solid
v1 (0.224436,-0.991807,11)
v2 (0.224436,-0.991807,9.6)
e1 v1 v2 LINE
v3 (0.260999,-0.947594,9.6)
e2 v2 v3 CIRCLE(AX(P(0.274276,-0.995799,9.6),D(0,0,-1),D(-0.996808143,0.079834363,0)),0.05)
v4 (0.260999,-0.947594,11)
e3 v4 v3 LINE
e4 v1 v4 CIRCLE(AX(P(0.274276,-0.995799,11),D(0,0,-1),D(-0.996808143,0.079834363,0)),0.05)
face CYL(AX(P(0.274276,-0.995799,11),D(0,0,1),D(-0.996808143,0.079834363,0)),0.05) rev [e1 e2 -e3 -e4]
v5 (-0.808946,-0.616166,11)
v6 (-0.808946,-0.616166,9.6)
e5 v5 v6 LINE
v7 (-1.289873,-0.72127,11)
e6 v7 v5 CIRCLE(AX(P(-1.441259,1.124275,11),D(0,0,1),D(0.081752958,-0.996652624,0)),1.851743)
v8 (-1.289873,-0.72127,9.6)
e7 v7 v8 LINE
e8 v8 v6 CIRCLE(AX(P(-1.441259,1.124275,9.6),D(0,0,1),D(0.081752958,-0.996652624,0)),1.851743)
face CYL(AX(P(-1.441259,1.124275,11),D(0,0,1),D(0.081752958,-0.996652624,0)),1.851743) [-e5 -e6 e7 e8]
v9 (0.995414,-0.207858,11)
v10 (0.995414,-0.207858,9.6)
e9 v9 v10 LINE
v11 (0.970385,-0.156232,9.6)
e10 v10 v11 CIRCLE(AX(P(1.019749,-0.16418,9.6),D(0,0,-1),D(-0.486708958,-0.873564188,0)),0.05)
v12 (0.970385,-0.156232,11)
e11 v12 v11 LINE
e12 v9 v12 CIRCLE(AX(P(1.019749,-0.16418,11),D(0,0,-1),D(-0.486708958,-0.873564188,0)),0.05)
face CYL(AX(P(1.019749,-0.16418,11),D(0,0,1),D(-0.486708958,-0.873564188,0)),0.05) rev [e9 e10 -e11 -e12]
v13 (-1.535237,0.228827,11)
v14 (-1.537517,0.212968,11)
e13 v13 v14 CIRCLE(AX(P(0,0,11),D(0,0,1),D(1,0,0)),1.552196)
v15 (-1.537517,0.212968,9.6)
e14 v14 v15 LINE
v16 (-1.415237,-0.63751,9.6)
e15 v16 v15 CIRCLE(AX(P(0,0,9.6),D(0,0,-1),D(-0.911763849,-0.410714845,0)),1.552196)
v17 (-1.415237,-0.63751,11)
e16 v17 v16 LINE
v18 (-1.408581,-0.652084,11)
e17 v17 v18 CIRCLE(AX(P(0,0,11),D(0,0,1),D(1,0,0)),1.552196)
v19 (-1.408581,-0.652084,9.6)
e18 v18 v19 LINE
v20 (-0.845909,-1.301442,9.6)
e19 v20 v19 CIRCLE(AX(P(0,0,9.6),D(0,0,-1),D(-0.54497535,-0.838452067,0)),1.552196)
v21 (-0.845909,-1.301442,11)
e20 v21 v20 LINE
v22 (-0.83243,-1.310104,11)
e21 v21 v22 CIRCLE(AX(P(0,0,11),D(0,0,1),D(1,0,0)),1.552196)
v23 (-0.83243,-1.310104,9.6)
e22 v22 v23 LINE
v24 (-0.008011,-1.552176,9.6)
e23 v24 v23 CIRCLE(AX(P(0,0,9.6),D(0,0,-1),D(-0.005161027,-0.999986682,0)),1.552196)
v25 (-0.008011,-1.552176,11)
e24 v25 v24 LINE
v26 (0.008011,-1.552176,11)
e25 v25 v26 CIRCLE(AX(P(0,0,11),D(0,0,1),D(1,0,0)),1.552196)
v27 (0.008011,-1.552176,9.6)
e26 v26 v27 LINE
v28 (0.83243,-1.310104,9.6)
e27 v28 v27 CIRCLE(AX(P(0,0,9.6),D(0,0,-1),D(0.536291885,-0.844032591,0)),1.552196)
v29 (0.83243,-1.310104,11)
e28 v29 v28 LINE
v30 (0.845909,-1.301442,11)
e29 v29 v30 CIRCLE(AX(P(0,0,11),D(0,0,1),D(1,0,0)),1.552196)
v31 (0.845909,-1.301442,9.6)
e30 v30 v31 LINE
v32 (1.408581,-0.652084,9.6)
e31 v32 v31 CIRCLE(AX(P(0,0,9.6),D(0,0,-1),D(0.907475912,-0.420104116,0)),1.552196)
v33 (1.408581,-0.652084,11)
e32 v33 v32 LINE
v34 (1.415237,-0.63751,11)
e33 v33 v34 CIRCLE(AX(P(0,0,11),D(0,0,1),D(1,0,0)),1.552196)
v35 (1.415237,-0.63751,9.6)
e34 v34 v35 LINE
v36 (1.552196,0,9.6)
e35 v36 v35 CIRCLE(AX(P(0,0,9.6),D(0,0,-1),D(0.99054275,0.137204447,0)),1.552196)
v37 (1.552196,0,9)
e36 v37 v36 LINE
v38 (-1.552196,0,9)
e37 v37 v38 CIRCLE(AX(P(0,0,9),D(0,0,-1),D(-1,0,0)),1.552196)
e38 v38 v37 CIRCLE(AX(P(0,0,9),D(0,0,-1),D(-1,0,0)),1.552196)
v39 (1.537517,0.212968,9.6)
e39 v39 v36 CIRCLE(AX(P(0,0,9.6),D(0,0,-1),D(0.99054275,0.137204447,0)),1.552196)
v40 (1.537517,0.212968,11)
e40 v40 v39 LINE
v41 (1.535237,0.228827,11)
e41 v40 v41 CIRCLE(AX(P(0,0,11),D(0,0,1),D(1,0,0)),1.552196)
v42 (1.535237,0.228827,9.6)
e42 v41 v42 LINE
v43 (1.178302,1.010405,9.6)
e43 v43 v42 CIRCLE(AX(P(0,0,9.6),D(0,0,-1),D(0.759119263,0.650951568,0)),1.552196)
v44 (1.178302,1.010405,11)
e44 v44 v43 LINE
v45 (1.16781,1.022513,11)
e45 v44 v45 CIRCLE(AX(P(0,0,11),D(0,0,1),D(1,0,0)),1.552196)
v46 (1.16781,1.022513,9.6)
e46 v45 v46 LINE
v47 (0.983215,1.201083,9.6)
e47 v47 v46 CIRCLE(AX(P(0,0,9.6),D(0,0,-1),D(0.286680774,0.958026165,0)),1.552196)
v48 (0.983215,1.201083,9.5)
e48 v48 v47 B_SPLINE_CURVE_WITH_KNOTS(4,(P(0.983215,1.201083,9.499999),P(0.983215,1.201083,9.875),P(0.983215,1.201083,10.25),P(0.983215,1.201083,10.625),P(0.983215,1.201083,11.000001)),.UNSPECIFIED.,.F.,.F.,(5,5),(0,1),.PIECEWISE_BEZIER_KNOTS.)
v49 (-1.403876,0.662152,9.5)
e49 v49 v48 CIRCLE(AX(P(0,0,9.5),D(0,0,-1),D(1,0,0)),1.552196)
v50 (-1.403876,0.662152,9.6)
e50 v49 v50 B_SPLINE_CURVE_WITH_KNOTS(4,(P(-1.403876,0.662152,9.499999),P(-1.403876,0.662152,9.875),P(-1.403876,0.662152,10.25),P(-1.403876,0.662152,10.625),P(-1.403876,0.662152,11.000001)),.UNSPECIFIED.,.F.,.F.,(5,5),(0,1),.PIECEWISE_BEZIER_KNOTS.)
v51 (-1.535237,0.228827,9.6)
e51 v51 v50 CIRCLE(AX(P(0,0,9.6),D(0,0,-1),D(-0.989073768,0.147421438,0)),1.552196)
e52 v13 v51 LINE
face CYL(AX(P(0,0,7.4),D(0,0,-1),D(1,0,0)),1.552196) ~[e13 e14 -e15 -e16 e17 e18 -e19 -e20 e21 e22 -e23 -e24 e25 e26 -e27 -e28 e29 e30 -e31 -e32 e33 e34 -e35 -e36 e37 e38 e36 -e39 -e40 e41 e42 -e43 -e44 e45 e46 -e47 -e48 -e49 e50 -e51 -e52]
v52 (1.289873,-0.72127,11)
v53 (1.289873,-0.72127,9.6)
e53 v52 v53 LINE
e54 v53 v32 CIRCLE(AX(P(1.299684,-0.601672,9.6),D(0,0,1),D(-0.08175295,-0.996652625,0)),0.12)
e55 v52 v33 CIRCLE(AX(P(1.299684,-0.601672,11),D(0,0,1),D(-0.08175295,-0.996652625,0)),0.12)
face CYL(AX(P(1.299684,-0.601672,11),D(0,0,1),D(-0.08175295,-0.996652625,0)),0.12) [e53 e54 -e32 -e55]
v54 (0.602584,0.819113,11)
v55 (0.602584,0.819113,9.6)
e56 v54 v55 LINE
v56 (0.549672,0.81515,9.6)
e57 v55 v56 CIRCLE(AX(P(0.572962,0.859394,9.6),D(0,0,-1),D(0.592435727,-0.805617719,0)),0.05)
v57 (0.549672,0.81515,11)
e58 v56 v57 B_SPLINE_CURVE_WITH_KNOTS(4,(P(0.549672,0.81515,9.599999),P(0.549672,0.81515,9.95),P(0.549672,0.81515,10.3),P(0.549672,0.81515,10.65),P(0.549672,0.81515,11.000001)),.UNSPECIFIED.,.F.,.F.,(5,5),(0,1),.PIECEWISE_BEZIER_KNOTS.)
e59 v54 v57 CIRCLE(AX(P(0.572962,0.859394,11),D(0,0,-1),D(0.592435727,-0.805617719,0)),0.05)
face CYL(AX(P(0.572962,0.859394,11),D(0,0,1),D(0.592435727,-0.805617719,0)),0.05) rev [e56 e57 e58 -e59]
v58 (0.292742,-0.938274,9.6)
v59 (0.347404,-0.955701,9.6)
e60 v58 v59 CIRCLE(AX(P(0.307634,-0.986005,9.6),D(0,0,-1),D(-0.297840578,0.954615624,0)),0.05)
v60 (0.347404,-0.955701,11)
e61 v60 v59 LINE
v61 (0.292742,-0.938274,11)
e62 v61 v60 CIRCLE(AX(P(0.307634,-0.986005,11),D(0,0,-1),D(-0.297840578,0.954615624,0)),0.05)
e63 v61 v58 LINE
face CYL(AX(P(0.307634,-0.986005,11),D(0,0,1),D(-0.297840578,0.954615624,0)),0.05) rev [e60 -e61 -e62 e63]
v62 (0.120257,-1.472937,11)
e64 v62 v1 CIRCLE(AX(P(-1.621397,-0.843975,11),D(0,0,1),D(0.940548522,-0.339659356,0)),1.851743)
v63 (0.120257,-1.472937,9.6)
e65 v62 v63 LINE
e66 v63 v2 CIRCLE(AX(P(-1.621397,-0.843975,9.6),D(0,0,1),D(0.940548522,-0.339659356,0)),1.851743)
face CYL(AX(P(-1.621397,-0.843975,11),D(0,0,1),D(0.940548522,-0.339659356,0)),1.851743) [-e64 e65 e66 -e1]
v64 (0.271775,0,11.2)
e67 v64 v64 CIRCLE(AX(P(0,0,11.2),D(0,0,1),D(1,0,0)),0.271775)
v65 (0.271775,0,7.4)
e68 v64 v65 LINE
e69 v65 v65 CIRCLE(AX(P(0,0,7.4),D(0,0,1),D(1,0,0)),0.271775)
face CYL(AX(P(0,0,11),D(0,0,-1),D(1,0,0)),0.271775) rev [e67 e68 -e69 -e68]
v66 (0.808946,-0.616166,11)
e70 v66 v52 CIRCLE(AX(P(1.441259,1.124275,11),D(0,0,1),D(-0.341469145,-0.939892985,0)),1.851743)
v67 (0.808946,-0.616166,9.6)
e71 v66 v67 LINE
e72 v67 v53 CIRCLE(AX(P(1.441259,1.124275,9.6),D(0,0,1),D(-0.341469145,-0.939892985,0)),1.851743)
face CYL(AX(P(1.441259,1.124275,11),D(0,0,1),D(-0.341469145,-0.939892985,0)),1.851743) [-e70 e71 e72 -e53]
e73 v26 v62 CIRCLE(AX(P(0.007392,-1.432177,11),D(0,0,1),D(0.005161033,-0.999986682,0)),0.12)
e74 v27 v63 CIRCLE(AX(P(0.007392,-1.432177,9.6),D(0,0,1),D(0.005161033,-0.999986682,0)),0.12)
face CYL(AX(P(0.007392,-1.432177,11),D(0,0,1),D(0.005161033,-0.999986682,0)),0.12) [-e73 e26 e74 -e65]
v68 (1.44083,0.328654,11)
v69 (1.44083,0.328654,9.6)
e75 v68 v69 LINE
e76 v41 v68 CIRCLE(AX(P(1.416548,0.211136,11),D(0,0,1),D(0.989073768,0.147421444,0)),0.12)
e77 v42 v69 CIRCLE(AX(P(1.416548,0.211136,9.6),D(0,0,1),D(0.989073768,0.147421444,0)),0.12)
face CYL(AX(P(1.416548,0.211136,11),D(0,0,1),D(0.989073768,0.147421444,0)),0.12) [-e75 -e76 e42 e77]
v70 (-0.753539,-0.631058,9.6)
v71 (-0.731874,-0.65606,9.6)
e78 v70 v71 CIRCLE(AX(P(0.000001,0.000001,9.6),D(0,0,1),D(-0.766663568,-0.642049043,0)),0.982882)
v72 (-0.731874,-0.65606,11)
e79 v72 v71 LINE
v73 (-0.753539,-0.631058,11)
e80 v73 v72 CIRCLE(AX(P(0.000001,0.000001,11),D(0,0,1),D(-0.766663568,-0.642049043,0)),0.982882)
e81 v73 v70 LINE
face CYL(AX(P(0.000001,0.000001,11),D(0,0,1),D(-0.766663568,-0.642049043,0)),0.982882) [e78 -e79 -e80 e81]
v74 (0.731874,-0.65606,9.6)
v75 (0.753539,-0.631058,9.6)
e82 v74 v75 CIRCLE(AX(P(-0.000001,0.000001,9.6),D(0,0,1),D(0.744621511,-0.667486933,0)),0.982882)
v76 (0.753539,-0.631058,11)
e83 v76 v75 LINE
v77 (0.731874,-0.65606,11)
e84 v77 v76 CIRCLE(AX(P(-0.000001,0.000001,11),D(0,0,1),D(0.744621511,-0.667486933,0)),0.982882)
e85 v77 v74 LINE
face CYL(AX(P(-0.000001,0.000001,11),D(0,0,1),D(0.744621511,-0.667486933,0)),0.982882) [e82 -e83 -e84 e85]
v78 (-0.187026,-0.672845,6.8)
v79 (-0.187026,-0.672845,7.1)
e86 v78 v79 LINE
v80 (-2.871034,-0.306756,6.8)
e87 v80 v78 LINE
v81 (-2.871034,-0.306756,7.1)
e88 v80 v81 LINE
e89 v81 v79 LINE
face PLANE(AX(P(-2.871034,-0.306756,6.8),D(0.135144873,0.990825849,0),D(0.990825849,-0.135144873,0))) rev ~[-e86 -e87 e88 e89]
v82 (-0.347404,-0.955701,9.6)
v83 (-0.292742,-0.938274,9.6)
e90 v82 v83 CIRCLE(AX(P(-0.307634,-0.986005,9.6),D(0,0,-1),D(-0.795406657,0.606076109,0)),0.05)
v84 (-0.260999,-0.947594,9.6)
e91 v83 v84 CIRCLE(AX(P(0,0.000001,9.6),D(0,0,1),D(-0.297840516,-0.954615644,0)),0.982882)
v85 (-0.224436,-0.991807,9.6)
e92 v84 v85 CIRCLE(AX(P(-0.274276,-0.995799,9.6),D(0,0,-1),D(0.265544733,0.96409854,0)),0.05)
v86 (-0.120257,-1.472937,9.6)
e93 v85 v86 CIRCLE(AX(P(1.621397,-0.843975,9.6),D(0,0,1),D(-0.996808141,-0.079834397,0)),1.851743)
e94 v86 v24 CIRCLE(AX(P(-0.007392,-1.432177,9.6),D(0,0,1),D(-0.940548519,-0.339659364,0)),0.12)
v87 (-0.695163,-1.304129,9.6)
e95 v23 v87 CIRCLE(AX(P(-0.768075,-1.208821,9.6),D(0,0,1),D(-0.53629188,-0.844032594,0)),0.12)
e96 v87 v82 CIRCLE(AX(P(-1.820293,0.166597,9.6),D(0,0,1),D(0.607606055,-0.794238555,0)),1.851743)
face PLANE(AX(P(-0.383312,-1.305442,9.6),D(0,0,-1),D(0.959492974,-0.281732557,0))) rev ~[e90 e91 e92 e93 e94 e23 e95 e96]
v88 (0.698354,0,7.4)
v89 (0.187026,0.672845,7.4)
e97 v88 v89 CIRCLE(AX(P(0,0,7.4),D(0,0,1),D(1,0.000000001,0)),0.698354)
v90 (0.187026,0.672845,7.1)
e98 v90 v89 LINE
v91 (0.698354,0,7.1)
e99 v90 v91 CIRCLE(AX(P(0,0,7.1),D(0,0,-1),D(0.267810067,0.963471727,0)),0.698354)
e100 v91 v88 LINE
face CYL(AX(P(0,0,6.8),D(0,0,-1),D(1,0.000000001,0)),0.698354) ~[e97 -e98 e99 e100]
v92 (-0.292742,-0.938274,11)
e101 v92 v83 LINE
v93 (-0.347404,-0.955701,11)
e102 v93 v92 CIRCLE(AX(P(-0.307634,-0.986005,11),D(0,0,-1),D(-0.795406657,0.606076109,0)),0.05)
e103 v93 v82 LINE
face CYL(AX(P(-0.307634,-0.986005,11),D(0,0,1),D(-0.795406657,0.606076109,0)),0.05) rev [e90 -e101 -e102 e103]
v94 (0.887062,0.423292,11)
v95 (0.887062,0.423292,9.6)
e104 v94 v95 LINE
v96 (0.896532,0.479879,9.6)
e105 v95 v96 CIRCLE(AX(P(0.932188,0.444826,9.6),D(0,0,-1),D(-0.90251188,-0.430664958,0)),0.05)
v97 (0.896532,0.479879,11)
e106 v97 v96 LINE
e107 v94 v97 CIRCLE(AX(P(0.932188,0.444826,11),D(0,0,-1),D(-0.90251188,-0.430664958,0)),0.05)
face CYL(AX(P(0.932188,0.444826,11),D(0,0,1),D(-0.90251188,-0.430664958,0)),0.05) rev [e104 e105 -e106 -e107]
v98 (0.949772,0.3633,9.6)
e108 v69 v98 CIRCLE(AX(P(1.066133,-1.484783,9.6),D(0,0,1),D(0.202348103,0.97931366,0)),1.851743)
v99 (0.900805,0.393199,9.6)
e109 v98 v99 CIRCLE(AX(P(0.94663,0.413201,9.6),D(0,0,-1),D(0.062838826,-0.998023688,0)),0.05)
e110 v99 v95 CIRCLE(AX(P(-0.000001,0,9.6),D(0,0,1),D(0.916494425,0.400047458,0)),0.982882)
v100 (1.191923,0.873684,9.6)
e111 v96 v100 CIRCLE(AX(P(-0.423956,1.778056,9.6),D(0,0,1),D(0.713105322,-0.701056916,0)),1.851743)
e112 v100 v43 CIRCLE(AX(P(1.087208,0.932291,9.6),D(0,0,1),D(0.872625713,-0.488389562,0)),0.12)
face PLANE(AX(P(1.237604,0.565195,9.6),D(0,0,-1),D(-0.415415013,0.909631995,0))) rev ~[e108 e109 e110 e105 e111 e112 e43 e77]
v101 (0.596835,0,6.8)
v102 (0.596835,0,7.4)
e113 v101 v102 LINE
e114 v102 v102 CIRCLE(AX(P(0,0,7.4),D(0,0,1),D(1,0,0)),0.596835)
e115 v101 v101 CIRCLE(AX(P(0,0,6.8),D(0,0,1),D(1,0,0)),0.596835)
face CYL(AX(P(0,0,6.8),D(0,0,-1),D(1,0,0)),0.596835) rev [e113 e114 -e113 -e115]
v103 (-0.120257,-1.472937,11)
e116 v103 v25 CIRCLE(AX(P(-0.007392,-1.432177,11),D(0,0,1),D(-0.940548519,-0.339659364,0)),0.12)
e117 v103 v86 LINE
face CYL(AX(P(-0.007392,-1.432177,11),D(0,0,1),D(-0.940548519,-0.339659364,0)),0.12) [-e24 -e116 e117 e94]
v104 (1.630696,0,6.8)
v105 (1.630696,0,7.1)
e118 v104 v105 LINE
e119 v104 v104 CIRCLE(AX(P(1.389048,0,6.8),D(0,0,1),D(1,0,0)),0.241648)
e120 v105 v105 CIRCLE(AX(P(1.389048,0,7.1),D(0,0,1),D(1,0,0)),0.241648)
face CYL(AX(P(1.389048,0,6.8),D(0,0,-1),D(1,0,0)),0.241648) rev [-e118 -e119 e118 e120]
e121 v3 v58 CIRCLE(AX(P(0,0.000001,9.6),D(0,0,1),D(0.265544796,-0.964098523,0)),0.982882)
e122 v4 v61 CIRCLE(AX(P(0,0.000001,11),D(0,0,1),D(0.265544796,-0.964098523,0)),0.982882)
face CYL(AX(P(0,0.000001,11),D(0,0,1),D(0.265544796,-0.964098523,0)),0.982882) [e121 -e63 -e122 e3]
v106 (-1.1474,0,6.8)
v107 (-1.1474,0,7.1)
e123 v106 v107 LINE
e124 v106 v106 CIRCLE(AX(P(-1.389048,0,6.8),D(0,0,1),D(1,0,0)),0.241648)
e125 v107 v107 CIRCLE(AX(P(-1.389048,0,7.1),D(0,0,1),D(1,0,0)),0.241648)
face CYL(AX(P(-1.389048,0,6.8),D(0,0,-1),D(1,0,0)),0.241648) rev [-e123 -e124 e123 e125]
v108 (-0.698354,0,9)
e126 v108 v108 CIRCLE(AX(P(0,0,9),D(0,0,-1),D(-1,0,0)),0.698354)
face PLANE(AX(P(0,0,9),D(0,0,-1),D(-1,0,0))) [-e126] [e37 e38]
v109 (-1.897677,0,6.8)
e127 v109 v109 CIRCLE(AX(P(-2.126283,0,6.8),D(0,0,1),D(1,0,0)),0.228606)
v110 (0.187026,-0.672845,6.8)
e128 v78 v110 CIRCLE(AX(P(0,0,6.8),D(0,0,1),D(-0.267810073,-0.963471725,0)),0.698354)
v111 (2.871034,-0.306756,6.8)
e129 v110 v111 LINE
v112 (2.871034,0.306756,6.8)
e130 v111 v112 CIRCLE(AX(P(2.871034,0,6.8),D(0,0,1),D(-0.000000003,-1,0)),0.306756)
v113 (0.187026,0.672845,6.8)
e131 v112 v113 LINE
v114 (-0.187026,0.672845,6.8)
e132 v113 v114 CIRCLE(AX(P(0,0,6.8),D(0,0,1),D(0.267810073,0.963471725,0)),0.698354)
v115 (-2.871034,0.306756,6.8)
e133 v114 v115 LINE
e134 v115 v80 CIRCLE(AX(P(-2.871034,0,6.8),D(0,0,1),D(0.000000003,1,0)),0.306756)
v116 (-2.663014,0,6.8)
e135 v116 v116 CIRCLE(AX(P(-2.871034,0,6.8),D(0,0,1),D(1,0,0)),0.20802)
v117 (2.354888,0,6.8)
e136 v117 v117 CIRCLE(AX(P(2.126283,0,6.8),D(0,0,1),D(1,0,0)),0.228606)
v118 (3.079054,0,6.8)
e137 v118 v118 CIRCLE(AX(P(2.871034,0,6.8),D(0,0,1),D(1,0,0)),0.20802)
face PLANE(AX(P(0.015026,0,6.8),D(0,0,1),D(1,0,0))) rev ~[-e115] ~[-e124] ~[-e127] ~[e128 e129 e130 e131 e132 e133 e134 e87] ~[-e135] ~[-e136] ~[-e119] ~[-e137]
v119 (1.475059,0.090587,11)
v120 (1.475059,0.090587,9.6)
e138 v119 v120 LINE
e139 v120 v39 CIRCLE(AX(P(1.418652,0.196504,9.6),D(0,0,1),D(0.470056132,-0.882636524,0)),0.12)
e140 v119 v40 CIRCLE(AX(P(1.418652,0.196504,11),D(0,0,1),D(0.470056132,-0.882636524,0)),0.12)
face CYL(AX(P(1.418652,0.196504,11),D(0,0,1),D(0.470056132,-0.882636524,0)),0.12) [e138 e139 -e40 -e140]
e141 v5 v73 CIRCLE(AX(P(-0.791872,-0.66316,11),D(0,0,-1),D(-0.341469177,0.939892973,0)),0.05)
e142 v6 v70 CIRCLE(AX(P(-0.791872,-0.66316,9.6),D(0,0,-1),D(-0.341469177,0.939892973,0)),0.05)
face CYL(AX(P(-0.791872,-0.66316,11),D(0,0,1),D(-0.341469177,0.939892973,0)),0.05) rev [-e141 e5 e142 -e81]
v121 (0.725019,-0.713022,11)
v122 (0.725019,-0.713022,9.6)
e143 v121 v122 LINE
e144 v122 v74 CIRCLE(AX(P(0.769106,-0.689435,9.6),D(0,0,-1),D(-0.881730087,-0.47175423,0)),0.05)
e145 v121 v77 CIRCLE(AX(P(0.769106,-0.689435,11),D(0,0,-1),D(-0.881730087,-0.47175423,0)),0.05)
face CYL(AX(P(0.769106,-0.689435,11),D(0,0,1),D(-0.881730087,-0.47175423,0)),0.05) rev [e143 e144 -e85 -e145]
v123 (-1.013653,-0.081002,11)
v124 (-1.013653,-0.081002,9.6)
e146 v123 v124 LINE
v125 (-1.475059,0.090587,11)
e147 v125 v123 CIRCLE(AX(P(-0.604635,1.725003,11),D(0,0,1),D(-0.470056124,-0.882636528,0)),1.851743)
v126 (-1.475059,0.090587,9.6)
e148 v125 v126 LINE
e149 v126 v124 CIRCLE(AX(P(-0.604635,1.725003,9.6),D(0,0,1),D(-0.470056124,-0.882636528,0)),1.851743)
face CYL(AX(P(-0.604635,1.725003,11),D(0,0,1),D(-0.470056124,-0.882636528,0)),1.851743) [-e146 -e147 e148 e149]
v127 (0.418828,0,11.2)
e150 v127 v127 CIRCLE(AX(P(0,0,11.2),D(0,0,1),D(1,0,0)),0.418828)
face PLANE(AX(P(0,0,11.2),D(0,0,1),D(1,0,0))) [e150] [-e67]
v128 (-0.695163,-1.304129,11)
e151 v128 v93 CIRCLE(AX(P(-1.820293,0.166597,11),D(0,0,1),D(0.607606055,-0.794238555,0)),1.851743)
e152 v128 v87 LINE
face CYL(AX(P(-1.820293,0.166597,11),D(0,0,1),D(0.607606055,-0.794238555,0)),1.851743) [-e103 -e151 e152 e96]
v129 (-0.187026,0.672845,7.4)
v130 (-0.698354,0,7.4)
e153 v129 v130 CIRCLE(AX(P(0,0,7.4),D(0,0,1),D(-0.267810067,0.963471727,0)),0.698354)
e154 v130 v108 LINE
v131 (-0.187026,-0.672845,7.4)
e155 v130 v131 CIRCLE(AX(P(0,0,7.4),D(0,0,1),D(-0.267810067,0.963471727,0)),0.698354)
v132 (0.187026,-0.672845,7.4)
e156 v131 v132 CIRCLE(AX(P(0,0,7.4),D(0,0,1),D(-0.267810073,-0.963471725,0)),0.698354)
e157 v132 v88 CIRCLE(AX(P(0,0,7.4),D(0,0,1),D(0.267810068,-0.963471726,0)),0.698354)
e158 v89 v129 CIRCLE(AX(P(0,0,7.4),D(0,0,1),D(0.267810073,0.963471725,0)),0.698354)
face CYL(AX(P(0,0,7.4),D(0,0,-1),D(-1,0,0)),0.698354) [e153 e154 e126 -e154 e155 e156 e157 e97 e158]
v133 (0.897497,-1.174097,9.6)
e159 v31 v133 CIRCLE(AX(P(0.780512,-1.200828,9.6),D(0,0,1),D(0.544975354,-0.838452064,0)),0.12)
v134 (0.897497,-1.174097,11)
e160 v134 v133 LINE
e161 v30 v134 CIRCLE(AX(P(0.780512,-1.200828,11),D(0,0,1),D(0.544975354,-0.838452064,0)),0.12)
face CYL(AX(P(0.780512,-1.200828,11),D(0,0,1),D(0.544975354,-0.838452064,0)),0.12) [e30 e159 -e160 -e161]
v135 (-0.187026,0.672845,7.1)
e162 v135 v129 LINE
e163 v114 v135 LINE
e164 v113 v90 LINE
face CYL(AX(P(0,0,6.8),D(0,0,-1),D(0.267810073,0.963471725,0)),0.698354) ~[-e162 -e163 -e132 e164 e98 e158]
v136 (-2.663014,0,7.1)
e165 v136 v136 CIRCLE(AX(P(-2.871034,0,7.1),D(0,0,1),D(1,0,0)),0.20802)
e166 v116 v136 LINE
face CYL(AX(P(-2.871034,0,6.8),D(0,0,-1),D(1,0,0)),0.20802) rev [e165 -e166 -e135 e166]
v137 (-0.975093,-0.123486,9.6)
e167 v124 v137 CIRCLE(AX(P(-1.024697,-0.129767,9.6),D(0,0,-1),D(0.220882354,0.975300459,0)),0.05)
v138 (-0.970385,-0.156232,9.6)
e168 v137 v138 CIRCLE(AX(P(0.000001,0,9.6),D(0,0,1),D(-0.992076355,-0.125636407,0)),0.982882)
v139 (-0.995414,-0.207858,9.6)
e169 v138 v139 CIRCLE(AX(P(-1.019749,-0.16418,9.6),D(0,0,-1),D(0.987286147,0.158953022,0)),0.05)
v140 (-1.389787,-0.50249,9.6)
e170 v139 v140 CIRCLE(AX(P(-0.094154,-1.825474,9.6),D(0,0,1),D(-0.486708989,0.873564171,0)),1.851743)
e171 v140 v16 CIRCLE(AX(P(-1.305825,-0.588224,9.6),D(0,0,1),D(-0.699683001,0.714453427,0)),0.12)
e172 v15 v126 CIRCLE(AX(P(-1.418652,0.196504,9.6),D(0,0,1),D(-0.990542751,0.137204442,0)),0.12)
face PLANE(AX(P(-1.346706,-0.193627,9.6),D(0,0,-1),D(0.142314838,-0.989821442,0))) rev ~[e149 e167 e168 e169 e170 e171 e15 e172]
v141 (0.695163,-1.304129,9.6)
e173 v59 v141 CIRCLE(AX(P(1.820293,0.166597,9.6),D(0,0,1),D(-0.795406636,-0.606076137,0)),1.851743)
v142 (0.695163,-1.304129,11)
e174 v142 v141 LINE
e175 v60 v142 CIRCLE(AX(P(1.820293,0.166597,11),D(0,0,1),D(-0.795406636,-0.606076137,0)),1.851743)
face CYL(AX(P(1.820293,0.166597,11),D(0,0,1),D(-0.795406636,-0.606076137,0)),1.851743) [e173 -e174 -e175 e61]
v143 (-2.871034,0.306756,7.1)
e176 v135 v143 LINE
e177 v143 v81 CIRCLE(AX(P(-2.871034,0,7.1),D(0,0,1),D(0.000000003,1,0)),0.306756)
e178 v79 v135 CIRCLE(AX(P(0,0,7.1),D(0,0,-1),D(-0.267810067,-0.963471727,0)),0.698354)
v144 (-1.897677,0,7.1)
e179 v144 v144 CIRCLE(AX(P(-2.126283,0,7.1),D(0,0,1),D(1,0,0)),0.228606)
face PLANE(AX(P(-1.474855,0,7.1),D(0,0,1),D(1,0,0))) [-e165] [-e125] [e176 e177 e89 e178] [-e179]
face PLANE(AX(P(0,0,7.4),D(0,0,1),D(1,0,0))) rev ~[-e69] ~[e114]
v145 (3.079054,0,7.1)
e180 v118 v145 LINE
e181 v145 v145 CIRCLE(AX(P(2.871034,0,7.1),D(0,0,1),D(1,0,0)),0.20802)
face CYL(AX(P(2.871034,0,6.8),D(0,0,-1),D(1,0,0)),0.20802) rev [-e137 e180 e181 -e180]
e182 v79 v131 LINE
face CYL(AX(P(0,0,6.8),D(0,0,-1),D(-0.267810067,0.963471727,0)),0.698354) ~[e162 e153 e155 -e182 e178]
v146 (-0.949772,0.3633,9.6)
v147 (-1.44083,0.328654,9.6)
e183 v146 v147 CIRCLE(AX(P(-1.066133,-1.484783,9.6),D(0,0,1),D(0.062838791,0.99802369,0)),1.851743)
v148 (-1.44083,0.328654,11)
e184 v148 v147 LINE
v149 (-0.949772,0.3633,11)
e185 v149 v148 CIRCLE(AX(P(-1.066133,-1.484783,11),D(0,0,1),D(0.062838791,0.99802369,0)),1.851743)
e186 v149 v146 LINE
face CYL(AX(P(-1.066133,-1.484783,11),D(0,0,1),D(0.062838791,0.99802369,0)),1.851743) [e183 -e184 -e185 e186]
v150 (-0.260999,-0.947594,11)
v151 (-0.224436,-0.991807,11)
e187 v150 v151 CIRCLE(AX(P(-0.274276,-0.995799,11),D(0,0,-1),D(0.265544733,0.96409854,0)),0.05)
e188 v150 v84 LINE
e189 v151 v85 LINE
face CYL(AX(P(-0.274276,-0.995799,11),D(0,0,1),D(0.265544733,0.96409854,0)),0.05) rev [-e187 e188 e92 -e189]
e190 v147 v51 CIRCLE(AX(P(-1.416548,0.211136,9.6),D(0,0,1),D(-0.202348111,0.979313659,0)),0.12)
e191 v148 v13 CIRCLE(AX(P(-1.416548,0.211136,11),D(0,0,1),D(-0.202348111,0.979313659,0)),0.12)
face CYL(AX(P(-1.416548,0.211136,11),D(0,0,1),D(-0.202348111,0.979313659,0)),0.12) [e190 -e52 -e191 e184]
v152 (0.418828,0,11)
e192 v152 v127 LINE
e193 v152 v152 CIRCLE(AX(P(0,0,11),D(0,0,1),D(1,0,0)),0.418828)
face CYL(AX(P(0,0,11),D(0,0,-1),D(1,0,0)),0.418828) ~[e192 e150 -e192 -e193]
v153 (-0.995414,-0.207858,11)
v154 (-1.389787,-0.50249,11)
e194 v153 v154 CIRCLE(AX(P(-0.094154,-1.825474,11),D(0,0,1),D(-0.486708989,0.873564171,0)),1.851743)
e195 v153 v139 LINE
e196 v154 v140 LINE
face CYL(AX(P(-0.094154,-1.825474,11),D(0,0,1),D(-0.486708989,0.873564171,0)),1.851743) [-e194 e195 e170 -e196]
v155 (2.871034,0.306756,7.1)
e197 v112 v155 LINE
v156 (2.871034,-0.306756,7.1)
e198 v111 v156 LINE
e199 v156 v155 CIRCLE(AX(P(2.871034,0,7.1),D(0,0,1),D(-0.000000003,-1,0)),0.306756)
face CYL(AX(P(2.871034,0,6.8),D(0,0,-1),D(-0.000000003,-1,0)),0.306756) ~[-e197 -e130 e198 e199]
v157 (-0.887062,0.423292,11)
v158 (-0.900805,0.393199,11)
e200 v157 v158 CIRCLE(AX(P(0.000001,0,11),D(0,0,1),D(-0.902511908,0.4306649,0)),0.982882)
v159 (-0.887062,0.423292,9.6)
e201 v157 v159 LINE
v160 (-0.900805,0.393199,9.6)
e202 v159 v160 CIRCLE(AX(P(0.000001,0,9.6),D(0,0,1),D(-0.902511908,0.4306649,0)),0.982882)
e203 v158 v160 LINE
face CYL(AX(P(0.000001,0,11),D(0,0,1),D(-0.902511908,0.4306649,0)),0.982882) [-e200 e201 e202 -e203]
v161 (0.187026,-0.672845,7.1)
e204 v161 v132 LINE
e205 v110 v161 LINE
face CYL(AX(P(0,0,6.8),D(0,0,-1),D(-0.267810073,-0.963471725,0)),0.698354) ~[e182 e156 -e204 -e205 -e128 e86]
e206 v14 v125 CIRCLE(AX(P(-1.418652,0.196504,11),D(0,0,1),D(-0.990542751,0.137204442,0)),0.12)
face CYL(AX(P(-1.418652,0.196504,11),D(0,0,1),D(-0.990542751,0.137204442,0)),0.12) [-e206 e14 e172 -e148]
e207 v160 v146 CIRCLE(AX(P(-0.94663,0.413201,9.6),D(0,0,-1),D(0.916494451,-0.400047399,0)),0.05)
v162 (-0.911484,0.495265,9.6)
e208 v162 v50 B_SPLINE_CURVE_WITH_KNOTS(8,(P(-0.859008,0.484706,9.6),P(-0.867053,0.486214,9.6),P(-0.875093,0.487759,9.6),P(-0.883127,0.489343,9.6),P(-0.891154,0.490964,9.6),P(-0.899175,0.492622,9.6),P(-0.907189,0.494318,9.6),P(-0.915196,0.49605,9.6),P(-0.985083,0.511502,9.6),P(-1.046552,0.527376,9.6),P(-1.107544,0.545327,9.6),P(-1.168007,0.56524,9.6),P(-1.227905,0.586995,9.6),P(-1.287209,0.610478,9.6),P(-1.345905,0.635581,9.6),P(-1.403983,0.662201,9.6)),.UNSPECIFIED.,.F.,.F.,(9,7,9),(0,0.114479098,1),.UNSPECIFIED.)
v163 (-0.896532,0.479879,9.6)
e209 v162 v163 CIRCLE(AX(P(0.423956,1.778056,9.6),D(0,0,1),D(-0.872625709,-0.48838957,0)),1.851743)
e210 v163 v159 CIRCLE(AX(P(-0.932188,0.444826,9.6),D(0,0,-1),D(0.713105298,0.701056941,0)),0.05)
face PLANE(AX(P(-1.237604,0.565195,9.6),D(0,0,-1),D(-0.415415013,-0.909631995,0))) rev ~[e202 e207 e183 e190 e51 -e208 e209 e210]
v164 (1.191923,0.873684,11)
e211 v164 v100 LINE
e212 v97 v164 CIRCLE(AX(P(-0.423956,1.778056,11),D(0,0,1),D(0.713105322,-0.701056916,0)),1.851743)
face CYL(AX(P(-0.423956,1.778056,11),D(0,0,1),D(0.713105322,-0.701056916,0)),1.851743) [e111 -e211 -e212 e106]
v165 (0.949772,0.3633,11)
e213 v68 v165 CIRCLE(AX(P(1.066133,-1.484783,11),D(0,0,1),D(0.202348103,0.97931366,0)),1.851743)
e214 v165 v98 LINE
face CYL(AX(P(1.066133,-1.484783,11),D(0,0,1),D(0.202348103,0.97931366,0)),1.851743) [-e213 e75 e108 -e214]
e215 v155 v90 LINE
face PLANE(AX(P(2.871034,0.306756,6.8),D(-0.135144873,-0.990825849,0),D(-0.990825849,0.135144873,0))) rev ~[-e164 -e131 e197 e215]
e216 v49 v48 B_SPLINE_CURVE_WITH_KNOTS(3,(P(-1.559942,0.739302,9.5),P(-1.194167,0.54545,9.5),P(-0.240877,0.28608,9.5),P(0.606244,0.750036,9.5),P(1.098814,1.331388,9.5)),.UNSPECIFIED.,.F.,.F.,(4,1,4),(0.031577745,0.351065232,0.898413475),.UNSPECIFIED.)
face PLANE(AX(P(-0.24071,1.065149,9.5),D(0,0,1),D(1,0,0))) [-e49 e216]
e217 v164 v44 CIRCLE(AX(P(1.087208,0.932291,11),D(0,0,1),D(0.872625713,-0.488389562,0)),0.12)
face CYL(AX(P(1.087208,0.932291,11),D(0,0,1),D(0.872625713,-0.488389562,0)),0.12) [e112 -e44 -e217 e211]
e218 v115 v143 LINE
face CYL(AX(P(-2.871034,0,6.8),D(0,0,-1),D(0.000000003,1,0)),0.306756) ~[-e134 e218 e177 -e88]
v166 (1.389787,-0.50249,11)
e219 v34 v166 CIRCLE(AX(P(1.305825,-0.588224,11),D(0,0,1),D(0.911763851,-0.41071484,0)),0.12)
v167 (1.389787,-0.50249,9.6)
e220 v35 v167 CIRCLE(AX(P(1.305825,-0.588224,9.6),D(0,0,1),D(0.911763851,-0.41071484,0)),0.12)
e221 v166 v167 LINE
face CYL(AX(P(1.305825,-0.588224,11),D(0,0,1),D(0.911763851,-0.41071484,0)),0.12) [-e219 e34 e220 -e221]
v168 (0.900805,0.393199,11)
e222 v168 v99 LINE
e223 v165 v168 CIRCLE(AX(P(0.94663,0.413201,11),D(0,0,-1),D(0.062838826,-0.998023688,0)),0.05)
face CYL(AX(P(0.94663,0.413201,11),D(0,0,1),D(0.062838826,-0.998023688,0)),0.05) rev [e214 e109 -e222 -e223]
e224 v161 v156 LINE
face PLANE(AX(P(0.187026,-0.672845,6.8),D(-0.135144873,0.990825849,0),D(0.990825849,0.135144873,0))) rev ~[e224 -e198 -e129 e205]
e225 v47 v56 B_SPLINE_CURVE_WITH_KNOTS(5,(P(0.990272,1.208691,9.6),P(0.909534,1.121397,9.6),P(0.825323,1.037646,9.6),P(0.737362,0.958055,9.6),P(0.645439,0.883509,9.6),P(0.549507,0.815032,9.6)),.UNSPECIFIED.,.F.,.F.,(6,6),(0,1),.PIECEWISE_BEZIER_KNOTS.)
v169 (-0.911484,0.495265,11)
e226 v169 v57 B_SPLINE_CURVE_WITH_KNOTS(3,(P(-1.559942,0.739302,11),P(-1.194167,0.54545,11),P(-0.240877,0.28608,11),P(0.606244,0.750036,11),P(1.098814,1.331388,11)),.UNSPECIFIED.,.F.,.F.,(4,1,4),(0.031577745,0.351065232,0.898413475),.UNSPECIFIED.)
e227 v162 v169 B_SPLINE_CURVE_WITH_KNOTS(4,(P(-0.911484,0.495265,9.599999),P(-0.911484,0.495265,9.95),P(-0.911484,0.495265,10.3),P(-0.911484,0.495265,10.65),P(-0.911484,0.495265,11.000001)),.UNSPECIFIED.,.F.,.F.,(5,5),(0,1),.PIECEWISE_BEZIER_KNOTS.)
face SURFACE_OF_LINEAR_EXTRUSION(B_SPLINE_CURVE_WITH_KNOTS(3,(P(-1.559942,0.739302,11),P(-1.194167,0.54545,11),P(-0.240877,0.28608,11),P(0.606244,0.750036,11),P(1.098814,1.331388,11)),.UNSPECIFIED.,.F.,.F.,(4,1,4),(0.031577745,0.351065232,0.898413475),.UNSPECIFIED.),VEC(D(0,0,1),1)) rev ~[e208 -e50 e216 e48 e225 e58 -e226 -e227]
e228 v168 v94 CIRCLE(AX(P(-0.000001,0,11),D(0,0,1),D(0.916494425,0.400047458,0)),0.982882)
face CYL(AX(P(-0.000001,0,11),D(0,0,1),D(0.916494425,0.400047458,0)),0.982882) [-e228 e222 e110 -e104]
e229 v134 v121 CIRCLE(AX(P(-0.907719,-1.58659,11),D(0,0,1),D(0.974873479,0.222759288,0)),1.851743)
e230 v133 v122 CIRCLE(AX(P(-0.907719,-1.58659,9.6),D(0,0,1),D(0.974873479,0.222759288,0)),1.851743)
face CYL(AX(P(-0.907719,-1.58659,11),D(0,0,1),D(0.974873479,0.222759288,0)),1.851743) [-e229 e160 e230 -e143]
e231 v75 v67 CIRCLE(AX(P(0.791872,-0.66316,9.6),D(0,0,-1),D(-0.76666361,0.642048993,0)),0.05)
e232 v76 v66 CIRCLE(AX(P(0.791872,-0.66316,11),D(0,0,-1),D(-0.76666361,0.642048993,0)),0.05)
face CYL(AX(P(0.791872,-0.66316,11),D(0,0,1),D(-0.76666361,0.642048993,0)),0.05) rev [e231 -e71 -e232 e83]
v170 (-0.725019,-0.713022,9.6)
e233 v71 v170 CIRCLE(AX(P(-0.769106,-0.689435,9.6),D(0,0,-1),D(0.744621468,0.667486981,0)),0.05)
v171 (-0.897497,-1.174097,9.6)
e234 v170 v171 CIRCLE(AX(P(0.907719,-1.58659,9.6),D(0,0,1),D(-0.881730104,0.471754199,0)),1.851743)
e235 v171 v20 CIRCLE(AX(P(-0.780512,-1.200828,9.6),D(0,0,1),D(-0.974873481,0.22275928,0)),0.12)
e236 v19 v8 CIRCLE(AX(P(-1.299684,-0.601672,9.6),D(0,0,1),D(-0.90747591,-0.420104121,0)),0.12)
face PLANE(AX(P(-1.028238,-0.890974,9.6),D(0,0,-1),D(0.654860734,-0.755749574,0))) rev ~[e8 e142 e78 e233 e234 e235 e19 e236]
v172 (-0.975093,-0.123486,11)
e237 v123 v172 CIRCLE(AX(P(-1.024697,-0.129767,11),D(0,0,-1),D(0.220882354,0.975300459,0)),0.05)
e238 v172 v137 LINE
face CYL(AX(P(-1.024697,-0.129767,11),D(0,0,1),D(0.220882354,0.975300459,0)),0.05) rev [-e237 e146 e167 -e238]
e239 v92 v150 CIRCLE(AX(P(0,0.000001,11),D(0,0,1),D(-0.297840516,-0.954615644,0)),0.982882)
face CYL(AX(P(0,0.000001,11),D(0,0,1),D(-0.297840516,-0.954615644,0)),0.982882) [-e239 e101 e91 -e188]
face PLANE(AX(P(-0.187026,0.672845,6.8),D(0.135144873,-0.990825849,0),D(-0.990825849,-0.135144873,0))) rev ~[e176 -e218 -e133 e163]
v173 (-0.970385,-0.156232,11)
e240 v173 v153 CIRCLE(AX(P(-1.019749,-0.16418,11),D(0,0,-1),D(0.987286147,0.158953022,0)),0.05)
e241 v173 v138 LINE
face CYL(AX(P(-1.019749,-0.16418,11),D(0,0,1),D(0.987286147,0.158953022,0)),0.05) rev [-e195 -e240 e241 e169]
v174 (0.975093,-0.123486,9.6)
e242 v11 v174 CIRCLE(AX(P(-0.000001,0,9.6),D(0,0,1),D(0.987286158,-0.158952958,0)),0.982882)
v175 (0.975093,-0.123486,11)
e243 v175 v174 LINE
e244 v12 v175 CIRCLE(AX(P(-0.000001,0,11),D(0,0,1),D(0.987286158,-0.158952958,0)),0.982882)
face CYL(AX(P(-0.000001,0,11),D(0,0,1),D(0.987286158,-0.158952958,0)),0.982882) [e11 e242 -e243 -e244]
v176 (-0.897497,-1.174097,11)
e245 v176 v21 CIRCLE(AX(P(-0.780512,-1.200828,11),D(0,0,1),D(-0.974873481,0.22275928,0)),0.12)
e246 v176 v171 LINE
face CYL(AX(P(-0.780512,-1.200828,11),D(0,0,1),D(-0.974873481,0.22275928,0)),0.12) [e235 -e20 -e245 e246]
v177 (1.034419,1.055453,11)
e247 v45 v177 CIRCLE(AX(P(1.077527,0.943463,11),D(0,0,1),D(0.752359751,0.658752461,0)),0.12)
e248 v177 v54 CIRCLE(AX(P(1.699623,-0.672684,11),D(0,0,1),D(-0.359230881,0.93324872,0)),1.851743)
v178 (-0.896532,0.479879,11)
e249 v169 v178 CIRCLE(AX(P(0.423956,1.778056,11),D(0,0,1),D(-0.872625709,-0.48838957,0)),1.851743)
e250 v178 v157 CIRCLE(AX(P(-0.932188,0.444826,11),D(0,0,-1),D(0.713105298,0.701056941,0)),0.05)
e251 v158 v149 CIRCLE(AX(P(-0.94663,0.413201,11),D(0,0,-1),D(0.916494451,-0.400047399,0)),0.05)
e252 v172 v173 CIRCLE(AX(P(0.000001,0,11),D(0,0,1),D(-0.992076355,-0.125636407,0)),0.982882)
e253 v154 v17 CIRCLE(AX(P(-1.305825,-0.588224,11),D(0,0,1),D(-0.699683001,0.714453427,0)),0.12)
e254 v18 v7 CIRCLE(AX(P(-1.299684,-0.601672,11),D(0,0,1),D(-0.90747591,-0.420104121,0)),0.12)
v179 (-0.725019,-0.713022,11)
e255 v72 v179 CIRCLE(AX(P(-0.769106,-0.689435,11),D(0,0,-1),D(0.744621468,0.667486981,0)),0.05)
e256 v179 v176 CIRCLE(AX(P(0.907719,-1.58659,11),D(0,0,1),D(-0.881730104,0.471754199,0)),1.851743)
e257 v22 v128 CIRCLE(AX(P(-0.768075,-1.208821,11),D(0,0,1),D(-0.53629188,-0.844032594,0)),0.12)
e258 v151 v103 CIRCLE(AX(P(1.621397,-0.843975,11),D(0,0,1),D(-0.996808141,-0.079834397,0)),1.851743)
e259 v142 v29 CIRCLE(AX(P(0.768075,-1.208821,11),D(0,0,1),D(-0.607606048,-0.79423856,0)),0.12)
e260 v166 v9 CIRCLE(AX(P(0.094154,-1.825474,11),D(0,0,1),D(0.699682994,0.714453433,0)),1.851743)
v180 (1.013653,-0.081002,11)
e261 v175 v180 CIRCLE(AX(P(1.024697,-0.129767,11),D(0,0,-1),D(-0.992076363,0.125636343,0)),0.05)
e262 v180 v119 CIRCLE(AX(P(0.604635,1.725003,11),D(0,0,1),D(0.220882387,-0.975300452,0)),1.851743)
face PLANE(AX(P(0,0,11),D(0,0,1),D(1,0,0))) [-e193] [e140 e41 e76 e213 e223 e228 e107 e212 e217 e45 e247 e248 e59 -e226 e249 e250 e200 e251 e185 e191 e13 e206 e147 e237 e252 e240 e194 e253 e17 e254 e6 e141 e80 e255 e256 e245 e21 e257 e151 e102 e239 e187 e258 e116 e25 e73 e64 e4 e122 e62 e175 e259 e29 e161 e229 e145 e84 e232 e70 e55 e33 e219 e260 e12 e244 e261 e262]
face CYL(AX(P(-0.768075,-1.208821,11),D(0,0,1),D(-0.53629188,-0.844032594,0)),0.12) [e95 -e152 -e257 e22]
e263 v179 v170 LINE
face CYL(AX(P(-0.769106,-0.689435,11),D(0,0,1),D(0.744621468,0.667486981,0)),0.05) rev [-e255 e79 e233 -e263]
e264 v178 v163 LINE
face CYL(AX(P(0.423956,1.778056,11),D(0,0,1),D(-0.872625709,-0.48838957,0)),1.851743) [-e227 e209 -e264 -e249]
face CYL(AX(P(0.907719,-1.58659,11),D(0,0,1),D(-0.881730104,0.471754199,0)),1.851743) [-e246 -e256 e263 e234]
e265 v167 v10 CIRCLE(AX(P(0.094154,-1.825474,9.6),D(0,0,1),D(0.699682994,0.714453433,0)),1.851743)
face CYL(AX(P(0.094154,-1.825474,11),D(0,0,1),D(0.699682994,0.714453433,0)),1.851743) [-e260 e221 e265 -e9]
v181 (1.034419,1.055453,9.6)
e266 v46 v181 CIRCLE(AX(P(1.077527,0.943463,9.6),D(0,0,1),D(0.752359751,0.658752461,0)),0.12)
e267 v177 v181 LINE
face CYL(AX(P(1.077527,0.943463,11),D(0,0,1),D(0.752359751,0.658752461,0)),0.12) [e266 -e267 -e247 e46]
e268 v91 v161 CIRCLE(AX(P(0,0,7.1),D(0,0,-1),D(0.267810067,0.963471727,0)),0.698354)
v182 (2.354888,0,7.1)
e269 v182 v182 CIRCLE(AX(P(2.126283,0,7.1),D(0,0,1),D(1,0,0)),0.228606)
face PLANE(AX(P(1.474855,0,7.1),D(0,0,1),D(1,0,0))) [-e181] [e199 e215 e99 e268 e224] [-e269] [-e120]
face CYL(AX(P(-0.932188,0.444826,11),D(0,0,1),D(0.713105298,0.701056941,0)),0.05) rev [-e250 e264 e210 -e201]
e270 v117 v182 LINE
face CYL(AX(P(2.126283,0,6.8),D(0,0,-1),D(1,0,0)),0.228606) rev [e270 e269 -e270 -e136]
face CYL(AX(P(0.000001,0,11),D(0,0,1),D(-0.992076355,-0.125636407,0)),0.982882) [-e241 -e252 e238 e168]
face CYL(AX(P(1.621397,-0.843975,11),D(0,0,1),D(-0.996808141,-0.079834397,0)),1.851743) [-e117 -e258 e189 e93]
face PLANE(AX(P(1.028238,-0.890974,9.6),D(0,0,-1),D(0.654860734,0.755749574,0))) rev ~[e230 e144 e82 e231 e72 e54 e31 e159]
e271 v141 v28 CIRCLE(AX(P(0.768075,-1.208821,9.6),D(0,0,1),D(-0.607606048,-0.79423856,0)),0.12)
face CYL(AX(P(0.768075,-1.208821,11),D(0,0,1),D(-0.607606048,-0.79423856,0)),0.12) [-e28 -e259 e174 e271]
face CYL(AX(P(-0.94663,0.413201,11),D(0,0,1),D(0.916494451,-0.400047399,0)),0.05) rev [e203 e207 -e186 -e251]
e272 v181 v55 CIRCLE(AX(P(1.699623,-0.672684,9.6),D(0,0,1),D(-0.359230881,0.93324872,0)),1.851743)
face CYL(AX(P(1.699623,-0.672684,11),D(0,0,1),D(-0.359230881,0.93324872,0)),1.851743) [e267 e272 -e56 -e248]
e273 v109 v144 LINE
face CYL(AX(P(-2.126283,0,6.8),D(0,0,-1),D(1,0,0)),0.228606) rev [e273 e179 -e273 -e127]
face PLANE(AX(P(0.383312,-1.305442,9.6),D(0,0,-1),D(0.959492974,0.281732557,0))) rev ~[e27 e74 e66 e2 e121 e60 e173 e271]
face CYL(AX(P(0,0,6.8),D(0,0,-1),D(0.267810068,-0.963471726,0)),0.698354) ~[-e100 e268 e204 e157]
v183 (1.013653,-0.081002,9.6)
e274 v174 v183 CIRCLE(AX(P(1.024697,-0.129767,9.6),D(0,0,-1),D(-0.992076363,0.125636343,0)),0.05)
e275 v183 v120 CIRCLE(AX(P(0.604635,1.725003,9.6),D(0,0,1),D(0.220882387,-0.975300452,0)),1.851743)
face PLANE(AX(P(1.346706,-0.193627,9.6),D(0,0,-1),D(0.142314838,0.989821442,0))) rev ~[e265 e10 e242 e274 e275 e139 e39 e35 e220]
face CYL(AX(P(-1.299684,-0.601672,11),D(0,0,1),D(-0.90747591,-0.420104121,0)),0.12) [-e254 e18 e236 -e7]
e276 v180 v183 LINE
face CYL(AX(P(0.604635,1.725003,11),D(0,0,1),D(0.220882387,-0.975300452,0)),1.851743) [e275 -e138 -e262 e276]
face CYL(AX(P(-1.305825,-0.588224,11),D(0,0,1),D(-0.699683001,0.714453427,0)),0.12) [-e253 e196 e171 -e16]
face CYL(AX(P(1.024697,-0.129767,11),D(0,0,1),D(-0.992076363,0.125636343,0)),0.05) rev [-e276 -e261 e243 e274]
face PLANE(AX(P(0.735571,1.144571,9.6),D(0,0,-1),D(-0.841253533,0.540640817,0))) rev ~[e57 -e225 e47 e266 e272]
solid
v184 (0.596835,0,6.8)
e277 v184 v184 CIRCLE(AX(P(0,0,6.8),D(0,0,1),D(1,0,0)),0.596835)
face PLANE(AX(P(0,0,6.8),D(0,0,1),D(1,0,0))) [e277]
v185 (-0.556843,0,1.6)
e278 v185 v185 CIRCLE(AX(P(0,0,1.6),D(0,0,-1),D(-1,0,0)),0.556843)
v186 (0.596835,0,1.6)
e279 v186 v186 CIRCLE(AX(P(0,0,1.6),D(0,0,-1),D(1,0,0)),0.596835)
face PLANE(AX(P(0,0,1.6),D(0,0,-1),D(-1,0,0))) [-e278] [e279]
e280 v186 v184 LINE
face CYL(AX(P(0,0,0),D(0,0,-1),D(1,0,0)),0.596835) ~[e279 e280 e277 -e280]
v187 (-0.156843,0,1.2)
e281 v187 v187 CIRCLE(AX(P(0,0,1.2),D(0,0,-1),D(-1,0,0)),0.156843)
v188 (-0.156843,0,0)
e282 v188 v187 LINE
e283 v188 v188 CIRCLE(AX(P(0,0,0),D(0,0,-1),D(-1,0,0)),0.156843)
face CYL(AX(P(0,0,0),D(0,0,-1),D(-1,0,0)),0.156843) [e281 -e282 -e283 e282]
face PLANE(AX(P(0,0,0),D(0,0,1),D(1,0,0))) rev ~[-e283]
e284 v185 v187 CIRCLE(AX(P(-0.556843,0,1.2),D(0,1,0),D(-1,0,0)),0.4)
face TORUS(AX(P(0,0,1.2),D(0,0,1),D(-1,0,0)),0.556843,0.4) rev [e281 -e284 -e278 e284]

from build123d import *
from build123d.topology import SkipClean

# Parameters (mm, degrees)
ESQUISSE1_R                  = 0.596835197
BOSS_EXTRU_1_DEPTH           = 6.8
ESQUISSE2_R                  = 0.241647788
ESQUISSE2_R_2                = 0.228605582
ESQUISSE2_R_3                = 0.20802002
BOSS_EXTRU_2_DEPTH           = 0.3
BOSS_EXTRU_2_2_DEPTH         = 0.3
ESQUISSE2_3_R                = 0.596835197
BOSS_EXTRU_3_DEPTH           = 0.6
ESQUISSE3_R                  = 1.552196489
ESQUISSE3_R_2                = 0.271775186
BOSS_EXTRU_4_DEPTH           = 3.6
ENL_V_MAT_EXTRU_2_DEPTH      = 1.4
R_P_TITION_CIRCULAIRE1_COUNT = 11
ESQUISSE5_R                  = 0.418827817
ESQUISSE5_R_2                = 0.271775186
BOSS_EXTRU_5_DEPTH           = 0.2
ENL_V_MAT_EXTRU_4_DEPTH      = 1.5
ESQUISSE9_R                  = 1.552196489
ESQUISSE9_R_2                = 0.698354261
ENL_V_MAT_EXTRU_5_DEPTH      = 1.6
ESQUISSE10_R                 = 0.717525765
ESQUISSE10_R_2               = 0.156842738
ENL_V_MAT_EXTRU_6_DEPTH      = 1.6
CONG_1_R                     = 0.4


with BuildPart() as part:
    # Esquisse1 → Boss.-Extru.1 (new body)
    with BuildSketch(Plane.XY):
        Circle(ESQUISSE1_R)
    extrude(amount=BOSS_EXTRU_1_DEPTH)

    # Esquisse10 → Enlèv. mat.-Extru.6 (cut)
    with BuildSketch(Plane(origin=(0, 0, 0), x_dir=(-1, 0, 0), z_dir=(0, 0, -1))):
        Circle(ESQUISSE10_R)
        Circle(ESQUISSE10_R_2, mode=Mode.SUBTRACT)
    extrude(amount=-ENL_V_MAT_EXTRU_6_DEPTH, mode=Mode.SUBTRACT)

    # Congé1
    cong_1_edges = [part.edges().sort_by_distance(p)[0] for p in [
        (0.156842738, 0, 1.6),
    ]]
    fillet(cong_1_edges, radius=CONG_1_R)


with BuildPart() as body_2:
    # Esquisse2 → Boss.-Extru.2 (new body)
    with BuildSketch(Plane.XY.offset(6.8)):
        with BuildLine():
            ThreePointArc((2.87103353, -0.306756218), (3.177789749, 0), (2.87103353, 0.306756218))
            Line((2.87103353, 0.306756218), (0.187026302, 0.672844585))
            ThreePointArc((0.187026302, 0.672844585), (0.698354261, 0), (0.187026302, -0.672844585))
            Line((0.187026302, -0.672844585), (2.87103353, -0.306756218))
        make_face()
        with Locations((1.389047893, 0)):
            Circle(ESQUISSE2_R, mode=Mode.SUBTRACT)
        with Locations((2.126282563, 0)):
            Circle(ESQUISSE2_R_2, mode=Mode.SUBTRACT)
        with Locations((2.87103353, 0)):
            Circle(ESQUISSE2_R_3, mode=Mode.SUBTRACT)
    extrude(amount=BOSS_EXTRU_2_DEPTH)


with BuildPart() as body_3:
    # Esquisse2 → Boss.-Extru.2 2 (new body)
    with BuildSketch(Plane.XY.offset(6.8)):
        with BuildLine():
            ThreePointArc((-0.187026302, -0.672844585), (-0.698354261, 0), (-0.187026302, 0.672844585))
            Line((-0.187026302, 0.672844585), (-2.87103353, 0.306756218))
            ThreePointArc((-2.87103353, 0.306756218), (-3.177789749, 0), (-2.87103353, -0.306756218))
            Line((-2.87103353, -0.306756218), (-0.187026302, -0.672844585))
        make_face()
        with Locations((-2.87103353, 0)):
            Circle(ESQUISSE2_R_3, mode=Mode.SUBTRACT)
        with Locations((-2.126282563, 0)):
            Circle(ESQUISSE2_R_2, mode=Mode.SUBTRACT)
        with Locations((-1.389047893, 0)):
            Circle(ESQUISSE2_R, mode=Mode.SUBTRACT)
    extrude(amount=BOSS_EXTRU_2_2_DEPTH)


    add(body_2.part)  # Boss.-Extru.3 merges body 2
    # Esquisse2<3> → Boss.-Extru.3 (add)
    with BuildSketch(Plane.XY.offset(6.8)):
        with BuildLine():
            ThreePointArc((0.698354261, 0), (0.556016766, 0.422544707), (0.187026302, 0.672844585))
            ThreePointArc((0.187026302, 0.672844585), (0, 0.698354261), (-0.187026302, 0.672844585))
            ThreePointArc((-0.187026302, 0.672844585), (-0.698354261, 0), (-0.187026302, -0.672844585))
            ThreePointArc((-0.187026302, -0.672844585), (0, -0.698354261), (0.187026302, -0.672844585))
            ThreePointArc((0.187026302, -0.672844585), (0.556016766, -0.422544707), (0.698354261, 0))
        make_face()
        Circle(ESQUISSE2_3_R, mode=Mode.SUBTRACT)
    extrude(amount=BOSS_EXTRU_3_DEPTH)

    # Esquisse3 → Boss.-Extru.4 (add)
    with BuildSketch(Plane.XY.offset(7.4)):
        Circle(ESQUISSE3_R)
        Circle(ESQUISSE3_R_2, mode=Mode.SUBTRACT)
    extrude(amount=BOSS_EXTRU_4_DEPTH)

    # Esquisse4 → Enlèv. mat.-Extru.2 (cut)
    with BuildSketch(Plane.XY.offset(11)):
        with BuildLine():
            ThreePointArc((0.016541491, 0.982741953), (0, 0.982881156), (-0.016541491, 0.982741953))
            ThreePointArc((-0.016541491, 0.982741953), (-0.045376251, 0.991305699), (-0.064079894, 1.014863179))
            ThreePointArc((-0.064079894, 1.014863179), (-0.167404623, 1.238868928), (-0.299588014, 1.447152692))
            ThreePointArc((-0.299588014, 1.447152692), (-0.357615603, 1.489806577), (-0.429612026, 1.49155873))
            ThreePointArc((-0.429612026, 1.49155873), (0, 1.552196489), (0.429612026, 1.49155873))
            ThreePointArc((0.429612026, 1.49155873), (0.357615603, 1.489806577), (0.299588014, 1.447152692))
            ThreePointArc((0.299588014, 1.447152692), (0.167404623, 1.238868928), (0.064079894, 1.014863179))
            ThreePointArc((0.064079894, 1.014863179), (0.045376251, 0.991305699), (0.016541491, 0.982741953))
        make_face()
    enl_v_mat_extru_2 = extrude(amount=-ENL_V_MAT_EXTRU_2_DEPTH, mode=Mode.SUBTRACT)

    # Répétition circulaire1: Enlèv. mat.-Extru.2 ×11 about axis
    r_p_tition_circulaire1_axis = Axis((0, 0, 11), (0, 0, -1))
    for i in range(1, R_P_TITION_CIRCULAIRE1_COUNT):
        add(enl_v_mat_extru_2.rotate(r_p_tition_circulaire1_axis, i * 360 / R_P_TITION_CIRCULAIRE1_COUNT), mode=Mode.SUBTRACT)

    # Esquisse5 → Boss.-Extru.5 (add)
    with BuildSketch(Plane.XY.offset(11)):
        Circle(ESQUISSE5_R)
        Circle(ESQUISSE5_R_2, mode=Mode.SUBTRACT)
    extrude(amount=BOSS_EXTRU_5_DEPTH)

    # Esquisse8 → Enlèv. mat.-Extru.4 (cut)
    with BuildSketch(Plane.XY.offset(11)):
        with BuildLine():
            ThreePointArc((1.098813899, 1.331388128), (-0.375234691, 1.684988207), (-1.559941725, 0.739302474))
            add(Edge.make_bspline(
                [(-1.559941725, 0.739302474), (-1.194167482, 0.54544953), (-0.240876792, 0.286080462), (0.606244487, 0.75003647), (1.098813899, 1.331388128)],
                knots=[0.031577745, 0.031577745, 0.031577745, 0.031577745, 0.351065232, 0.898413475, 0.898413475, 0.898413475, 0.898413475], degree=3))
        make_face()
    extrude(amount=-ENL_V_MAT_EXTRU_4_DEPTH, mode=Mode.SUBTRACT)

    # Esquisse9 → Enlèv. mat.-Extru.5 (cut)
    with SkipClean():  # the faces are left unmerged after this step: merging them gives an invalid solid
        with BuildSketch(Plane(origin=(0, 0, 7.4), x_dir=(-1, 0, 0), z_dir=(0, 0, -1))):
            Circle(ESQUISSE9_R)
            Circle(ESQUISSE9_R_2, mode=Mode.SUBTRACT)
        extrude(amount=-ENL_V_MAT_EXTRU_5_DEPTH, mode=Mode.SUBTRACT)


solid = Compound([part.part, body_3.part])
